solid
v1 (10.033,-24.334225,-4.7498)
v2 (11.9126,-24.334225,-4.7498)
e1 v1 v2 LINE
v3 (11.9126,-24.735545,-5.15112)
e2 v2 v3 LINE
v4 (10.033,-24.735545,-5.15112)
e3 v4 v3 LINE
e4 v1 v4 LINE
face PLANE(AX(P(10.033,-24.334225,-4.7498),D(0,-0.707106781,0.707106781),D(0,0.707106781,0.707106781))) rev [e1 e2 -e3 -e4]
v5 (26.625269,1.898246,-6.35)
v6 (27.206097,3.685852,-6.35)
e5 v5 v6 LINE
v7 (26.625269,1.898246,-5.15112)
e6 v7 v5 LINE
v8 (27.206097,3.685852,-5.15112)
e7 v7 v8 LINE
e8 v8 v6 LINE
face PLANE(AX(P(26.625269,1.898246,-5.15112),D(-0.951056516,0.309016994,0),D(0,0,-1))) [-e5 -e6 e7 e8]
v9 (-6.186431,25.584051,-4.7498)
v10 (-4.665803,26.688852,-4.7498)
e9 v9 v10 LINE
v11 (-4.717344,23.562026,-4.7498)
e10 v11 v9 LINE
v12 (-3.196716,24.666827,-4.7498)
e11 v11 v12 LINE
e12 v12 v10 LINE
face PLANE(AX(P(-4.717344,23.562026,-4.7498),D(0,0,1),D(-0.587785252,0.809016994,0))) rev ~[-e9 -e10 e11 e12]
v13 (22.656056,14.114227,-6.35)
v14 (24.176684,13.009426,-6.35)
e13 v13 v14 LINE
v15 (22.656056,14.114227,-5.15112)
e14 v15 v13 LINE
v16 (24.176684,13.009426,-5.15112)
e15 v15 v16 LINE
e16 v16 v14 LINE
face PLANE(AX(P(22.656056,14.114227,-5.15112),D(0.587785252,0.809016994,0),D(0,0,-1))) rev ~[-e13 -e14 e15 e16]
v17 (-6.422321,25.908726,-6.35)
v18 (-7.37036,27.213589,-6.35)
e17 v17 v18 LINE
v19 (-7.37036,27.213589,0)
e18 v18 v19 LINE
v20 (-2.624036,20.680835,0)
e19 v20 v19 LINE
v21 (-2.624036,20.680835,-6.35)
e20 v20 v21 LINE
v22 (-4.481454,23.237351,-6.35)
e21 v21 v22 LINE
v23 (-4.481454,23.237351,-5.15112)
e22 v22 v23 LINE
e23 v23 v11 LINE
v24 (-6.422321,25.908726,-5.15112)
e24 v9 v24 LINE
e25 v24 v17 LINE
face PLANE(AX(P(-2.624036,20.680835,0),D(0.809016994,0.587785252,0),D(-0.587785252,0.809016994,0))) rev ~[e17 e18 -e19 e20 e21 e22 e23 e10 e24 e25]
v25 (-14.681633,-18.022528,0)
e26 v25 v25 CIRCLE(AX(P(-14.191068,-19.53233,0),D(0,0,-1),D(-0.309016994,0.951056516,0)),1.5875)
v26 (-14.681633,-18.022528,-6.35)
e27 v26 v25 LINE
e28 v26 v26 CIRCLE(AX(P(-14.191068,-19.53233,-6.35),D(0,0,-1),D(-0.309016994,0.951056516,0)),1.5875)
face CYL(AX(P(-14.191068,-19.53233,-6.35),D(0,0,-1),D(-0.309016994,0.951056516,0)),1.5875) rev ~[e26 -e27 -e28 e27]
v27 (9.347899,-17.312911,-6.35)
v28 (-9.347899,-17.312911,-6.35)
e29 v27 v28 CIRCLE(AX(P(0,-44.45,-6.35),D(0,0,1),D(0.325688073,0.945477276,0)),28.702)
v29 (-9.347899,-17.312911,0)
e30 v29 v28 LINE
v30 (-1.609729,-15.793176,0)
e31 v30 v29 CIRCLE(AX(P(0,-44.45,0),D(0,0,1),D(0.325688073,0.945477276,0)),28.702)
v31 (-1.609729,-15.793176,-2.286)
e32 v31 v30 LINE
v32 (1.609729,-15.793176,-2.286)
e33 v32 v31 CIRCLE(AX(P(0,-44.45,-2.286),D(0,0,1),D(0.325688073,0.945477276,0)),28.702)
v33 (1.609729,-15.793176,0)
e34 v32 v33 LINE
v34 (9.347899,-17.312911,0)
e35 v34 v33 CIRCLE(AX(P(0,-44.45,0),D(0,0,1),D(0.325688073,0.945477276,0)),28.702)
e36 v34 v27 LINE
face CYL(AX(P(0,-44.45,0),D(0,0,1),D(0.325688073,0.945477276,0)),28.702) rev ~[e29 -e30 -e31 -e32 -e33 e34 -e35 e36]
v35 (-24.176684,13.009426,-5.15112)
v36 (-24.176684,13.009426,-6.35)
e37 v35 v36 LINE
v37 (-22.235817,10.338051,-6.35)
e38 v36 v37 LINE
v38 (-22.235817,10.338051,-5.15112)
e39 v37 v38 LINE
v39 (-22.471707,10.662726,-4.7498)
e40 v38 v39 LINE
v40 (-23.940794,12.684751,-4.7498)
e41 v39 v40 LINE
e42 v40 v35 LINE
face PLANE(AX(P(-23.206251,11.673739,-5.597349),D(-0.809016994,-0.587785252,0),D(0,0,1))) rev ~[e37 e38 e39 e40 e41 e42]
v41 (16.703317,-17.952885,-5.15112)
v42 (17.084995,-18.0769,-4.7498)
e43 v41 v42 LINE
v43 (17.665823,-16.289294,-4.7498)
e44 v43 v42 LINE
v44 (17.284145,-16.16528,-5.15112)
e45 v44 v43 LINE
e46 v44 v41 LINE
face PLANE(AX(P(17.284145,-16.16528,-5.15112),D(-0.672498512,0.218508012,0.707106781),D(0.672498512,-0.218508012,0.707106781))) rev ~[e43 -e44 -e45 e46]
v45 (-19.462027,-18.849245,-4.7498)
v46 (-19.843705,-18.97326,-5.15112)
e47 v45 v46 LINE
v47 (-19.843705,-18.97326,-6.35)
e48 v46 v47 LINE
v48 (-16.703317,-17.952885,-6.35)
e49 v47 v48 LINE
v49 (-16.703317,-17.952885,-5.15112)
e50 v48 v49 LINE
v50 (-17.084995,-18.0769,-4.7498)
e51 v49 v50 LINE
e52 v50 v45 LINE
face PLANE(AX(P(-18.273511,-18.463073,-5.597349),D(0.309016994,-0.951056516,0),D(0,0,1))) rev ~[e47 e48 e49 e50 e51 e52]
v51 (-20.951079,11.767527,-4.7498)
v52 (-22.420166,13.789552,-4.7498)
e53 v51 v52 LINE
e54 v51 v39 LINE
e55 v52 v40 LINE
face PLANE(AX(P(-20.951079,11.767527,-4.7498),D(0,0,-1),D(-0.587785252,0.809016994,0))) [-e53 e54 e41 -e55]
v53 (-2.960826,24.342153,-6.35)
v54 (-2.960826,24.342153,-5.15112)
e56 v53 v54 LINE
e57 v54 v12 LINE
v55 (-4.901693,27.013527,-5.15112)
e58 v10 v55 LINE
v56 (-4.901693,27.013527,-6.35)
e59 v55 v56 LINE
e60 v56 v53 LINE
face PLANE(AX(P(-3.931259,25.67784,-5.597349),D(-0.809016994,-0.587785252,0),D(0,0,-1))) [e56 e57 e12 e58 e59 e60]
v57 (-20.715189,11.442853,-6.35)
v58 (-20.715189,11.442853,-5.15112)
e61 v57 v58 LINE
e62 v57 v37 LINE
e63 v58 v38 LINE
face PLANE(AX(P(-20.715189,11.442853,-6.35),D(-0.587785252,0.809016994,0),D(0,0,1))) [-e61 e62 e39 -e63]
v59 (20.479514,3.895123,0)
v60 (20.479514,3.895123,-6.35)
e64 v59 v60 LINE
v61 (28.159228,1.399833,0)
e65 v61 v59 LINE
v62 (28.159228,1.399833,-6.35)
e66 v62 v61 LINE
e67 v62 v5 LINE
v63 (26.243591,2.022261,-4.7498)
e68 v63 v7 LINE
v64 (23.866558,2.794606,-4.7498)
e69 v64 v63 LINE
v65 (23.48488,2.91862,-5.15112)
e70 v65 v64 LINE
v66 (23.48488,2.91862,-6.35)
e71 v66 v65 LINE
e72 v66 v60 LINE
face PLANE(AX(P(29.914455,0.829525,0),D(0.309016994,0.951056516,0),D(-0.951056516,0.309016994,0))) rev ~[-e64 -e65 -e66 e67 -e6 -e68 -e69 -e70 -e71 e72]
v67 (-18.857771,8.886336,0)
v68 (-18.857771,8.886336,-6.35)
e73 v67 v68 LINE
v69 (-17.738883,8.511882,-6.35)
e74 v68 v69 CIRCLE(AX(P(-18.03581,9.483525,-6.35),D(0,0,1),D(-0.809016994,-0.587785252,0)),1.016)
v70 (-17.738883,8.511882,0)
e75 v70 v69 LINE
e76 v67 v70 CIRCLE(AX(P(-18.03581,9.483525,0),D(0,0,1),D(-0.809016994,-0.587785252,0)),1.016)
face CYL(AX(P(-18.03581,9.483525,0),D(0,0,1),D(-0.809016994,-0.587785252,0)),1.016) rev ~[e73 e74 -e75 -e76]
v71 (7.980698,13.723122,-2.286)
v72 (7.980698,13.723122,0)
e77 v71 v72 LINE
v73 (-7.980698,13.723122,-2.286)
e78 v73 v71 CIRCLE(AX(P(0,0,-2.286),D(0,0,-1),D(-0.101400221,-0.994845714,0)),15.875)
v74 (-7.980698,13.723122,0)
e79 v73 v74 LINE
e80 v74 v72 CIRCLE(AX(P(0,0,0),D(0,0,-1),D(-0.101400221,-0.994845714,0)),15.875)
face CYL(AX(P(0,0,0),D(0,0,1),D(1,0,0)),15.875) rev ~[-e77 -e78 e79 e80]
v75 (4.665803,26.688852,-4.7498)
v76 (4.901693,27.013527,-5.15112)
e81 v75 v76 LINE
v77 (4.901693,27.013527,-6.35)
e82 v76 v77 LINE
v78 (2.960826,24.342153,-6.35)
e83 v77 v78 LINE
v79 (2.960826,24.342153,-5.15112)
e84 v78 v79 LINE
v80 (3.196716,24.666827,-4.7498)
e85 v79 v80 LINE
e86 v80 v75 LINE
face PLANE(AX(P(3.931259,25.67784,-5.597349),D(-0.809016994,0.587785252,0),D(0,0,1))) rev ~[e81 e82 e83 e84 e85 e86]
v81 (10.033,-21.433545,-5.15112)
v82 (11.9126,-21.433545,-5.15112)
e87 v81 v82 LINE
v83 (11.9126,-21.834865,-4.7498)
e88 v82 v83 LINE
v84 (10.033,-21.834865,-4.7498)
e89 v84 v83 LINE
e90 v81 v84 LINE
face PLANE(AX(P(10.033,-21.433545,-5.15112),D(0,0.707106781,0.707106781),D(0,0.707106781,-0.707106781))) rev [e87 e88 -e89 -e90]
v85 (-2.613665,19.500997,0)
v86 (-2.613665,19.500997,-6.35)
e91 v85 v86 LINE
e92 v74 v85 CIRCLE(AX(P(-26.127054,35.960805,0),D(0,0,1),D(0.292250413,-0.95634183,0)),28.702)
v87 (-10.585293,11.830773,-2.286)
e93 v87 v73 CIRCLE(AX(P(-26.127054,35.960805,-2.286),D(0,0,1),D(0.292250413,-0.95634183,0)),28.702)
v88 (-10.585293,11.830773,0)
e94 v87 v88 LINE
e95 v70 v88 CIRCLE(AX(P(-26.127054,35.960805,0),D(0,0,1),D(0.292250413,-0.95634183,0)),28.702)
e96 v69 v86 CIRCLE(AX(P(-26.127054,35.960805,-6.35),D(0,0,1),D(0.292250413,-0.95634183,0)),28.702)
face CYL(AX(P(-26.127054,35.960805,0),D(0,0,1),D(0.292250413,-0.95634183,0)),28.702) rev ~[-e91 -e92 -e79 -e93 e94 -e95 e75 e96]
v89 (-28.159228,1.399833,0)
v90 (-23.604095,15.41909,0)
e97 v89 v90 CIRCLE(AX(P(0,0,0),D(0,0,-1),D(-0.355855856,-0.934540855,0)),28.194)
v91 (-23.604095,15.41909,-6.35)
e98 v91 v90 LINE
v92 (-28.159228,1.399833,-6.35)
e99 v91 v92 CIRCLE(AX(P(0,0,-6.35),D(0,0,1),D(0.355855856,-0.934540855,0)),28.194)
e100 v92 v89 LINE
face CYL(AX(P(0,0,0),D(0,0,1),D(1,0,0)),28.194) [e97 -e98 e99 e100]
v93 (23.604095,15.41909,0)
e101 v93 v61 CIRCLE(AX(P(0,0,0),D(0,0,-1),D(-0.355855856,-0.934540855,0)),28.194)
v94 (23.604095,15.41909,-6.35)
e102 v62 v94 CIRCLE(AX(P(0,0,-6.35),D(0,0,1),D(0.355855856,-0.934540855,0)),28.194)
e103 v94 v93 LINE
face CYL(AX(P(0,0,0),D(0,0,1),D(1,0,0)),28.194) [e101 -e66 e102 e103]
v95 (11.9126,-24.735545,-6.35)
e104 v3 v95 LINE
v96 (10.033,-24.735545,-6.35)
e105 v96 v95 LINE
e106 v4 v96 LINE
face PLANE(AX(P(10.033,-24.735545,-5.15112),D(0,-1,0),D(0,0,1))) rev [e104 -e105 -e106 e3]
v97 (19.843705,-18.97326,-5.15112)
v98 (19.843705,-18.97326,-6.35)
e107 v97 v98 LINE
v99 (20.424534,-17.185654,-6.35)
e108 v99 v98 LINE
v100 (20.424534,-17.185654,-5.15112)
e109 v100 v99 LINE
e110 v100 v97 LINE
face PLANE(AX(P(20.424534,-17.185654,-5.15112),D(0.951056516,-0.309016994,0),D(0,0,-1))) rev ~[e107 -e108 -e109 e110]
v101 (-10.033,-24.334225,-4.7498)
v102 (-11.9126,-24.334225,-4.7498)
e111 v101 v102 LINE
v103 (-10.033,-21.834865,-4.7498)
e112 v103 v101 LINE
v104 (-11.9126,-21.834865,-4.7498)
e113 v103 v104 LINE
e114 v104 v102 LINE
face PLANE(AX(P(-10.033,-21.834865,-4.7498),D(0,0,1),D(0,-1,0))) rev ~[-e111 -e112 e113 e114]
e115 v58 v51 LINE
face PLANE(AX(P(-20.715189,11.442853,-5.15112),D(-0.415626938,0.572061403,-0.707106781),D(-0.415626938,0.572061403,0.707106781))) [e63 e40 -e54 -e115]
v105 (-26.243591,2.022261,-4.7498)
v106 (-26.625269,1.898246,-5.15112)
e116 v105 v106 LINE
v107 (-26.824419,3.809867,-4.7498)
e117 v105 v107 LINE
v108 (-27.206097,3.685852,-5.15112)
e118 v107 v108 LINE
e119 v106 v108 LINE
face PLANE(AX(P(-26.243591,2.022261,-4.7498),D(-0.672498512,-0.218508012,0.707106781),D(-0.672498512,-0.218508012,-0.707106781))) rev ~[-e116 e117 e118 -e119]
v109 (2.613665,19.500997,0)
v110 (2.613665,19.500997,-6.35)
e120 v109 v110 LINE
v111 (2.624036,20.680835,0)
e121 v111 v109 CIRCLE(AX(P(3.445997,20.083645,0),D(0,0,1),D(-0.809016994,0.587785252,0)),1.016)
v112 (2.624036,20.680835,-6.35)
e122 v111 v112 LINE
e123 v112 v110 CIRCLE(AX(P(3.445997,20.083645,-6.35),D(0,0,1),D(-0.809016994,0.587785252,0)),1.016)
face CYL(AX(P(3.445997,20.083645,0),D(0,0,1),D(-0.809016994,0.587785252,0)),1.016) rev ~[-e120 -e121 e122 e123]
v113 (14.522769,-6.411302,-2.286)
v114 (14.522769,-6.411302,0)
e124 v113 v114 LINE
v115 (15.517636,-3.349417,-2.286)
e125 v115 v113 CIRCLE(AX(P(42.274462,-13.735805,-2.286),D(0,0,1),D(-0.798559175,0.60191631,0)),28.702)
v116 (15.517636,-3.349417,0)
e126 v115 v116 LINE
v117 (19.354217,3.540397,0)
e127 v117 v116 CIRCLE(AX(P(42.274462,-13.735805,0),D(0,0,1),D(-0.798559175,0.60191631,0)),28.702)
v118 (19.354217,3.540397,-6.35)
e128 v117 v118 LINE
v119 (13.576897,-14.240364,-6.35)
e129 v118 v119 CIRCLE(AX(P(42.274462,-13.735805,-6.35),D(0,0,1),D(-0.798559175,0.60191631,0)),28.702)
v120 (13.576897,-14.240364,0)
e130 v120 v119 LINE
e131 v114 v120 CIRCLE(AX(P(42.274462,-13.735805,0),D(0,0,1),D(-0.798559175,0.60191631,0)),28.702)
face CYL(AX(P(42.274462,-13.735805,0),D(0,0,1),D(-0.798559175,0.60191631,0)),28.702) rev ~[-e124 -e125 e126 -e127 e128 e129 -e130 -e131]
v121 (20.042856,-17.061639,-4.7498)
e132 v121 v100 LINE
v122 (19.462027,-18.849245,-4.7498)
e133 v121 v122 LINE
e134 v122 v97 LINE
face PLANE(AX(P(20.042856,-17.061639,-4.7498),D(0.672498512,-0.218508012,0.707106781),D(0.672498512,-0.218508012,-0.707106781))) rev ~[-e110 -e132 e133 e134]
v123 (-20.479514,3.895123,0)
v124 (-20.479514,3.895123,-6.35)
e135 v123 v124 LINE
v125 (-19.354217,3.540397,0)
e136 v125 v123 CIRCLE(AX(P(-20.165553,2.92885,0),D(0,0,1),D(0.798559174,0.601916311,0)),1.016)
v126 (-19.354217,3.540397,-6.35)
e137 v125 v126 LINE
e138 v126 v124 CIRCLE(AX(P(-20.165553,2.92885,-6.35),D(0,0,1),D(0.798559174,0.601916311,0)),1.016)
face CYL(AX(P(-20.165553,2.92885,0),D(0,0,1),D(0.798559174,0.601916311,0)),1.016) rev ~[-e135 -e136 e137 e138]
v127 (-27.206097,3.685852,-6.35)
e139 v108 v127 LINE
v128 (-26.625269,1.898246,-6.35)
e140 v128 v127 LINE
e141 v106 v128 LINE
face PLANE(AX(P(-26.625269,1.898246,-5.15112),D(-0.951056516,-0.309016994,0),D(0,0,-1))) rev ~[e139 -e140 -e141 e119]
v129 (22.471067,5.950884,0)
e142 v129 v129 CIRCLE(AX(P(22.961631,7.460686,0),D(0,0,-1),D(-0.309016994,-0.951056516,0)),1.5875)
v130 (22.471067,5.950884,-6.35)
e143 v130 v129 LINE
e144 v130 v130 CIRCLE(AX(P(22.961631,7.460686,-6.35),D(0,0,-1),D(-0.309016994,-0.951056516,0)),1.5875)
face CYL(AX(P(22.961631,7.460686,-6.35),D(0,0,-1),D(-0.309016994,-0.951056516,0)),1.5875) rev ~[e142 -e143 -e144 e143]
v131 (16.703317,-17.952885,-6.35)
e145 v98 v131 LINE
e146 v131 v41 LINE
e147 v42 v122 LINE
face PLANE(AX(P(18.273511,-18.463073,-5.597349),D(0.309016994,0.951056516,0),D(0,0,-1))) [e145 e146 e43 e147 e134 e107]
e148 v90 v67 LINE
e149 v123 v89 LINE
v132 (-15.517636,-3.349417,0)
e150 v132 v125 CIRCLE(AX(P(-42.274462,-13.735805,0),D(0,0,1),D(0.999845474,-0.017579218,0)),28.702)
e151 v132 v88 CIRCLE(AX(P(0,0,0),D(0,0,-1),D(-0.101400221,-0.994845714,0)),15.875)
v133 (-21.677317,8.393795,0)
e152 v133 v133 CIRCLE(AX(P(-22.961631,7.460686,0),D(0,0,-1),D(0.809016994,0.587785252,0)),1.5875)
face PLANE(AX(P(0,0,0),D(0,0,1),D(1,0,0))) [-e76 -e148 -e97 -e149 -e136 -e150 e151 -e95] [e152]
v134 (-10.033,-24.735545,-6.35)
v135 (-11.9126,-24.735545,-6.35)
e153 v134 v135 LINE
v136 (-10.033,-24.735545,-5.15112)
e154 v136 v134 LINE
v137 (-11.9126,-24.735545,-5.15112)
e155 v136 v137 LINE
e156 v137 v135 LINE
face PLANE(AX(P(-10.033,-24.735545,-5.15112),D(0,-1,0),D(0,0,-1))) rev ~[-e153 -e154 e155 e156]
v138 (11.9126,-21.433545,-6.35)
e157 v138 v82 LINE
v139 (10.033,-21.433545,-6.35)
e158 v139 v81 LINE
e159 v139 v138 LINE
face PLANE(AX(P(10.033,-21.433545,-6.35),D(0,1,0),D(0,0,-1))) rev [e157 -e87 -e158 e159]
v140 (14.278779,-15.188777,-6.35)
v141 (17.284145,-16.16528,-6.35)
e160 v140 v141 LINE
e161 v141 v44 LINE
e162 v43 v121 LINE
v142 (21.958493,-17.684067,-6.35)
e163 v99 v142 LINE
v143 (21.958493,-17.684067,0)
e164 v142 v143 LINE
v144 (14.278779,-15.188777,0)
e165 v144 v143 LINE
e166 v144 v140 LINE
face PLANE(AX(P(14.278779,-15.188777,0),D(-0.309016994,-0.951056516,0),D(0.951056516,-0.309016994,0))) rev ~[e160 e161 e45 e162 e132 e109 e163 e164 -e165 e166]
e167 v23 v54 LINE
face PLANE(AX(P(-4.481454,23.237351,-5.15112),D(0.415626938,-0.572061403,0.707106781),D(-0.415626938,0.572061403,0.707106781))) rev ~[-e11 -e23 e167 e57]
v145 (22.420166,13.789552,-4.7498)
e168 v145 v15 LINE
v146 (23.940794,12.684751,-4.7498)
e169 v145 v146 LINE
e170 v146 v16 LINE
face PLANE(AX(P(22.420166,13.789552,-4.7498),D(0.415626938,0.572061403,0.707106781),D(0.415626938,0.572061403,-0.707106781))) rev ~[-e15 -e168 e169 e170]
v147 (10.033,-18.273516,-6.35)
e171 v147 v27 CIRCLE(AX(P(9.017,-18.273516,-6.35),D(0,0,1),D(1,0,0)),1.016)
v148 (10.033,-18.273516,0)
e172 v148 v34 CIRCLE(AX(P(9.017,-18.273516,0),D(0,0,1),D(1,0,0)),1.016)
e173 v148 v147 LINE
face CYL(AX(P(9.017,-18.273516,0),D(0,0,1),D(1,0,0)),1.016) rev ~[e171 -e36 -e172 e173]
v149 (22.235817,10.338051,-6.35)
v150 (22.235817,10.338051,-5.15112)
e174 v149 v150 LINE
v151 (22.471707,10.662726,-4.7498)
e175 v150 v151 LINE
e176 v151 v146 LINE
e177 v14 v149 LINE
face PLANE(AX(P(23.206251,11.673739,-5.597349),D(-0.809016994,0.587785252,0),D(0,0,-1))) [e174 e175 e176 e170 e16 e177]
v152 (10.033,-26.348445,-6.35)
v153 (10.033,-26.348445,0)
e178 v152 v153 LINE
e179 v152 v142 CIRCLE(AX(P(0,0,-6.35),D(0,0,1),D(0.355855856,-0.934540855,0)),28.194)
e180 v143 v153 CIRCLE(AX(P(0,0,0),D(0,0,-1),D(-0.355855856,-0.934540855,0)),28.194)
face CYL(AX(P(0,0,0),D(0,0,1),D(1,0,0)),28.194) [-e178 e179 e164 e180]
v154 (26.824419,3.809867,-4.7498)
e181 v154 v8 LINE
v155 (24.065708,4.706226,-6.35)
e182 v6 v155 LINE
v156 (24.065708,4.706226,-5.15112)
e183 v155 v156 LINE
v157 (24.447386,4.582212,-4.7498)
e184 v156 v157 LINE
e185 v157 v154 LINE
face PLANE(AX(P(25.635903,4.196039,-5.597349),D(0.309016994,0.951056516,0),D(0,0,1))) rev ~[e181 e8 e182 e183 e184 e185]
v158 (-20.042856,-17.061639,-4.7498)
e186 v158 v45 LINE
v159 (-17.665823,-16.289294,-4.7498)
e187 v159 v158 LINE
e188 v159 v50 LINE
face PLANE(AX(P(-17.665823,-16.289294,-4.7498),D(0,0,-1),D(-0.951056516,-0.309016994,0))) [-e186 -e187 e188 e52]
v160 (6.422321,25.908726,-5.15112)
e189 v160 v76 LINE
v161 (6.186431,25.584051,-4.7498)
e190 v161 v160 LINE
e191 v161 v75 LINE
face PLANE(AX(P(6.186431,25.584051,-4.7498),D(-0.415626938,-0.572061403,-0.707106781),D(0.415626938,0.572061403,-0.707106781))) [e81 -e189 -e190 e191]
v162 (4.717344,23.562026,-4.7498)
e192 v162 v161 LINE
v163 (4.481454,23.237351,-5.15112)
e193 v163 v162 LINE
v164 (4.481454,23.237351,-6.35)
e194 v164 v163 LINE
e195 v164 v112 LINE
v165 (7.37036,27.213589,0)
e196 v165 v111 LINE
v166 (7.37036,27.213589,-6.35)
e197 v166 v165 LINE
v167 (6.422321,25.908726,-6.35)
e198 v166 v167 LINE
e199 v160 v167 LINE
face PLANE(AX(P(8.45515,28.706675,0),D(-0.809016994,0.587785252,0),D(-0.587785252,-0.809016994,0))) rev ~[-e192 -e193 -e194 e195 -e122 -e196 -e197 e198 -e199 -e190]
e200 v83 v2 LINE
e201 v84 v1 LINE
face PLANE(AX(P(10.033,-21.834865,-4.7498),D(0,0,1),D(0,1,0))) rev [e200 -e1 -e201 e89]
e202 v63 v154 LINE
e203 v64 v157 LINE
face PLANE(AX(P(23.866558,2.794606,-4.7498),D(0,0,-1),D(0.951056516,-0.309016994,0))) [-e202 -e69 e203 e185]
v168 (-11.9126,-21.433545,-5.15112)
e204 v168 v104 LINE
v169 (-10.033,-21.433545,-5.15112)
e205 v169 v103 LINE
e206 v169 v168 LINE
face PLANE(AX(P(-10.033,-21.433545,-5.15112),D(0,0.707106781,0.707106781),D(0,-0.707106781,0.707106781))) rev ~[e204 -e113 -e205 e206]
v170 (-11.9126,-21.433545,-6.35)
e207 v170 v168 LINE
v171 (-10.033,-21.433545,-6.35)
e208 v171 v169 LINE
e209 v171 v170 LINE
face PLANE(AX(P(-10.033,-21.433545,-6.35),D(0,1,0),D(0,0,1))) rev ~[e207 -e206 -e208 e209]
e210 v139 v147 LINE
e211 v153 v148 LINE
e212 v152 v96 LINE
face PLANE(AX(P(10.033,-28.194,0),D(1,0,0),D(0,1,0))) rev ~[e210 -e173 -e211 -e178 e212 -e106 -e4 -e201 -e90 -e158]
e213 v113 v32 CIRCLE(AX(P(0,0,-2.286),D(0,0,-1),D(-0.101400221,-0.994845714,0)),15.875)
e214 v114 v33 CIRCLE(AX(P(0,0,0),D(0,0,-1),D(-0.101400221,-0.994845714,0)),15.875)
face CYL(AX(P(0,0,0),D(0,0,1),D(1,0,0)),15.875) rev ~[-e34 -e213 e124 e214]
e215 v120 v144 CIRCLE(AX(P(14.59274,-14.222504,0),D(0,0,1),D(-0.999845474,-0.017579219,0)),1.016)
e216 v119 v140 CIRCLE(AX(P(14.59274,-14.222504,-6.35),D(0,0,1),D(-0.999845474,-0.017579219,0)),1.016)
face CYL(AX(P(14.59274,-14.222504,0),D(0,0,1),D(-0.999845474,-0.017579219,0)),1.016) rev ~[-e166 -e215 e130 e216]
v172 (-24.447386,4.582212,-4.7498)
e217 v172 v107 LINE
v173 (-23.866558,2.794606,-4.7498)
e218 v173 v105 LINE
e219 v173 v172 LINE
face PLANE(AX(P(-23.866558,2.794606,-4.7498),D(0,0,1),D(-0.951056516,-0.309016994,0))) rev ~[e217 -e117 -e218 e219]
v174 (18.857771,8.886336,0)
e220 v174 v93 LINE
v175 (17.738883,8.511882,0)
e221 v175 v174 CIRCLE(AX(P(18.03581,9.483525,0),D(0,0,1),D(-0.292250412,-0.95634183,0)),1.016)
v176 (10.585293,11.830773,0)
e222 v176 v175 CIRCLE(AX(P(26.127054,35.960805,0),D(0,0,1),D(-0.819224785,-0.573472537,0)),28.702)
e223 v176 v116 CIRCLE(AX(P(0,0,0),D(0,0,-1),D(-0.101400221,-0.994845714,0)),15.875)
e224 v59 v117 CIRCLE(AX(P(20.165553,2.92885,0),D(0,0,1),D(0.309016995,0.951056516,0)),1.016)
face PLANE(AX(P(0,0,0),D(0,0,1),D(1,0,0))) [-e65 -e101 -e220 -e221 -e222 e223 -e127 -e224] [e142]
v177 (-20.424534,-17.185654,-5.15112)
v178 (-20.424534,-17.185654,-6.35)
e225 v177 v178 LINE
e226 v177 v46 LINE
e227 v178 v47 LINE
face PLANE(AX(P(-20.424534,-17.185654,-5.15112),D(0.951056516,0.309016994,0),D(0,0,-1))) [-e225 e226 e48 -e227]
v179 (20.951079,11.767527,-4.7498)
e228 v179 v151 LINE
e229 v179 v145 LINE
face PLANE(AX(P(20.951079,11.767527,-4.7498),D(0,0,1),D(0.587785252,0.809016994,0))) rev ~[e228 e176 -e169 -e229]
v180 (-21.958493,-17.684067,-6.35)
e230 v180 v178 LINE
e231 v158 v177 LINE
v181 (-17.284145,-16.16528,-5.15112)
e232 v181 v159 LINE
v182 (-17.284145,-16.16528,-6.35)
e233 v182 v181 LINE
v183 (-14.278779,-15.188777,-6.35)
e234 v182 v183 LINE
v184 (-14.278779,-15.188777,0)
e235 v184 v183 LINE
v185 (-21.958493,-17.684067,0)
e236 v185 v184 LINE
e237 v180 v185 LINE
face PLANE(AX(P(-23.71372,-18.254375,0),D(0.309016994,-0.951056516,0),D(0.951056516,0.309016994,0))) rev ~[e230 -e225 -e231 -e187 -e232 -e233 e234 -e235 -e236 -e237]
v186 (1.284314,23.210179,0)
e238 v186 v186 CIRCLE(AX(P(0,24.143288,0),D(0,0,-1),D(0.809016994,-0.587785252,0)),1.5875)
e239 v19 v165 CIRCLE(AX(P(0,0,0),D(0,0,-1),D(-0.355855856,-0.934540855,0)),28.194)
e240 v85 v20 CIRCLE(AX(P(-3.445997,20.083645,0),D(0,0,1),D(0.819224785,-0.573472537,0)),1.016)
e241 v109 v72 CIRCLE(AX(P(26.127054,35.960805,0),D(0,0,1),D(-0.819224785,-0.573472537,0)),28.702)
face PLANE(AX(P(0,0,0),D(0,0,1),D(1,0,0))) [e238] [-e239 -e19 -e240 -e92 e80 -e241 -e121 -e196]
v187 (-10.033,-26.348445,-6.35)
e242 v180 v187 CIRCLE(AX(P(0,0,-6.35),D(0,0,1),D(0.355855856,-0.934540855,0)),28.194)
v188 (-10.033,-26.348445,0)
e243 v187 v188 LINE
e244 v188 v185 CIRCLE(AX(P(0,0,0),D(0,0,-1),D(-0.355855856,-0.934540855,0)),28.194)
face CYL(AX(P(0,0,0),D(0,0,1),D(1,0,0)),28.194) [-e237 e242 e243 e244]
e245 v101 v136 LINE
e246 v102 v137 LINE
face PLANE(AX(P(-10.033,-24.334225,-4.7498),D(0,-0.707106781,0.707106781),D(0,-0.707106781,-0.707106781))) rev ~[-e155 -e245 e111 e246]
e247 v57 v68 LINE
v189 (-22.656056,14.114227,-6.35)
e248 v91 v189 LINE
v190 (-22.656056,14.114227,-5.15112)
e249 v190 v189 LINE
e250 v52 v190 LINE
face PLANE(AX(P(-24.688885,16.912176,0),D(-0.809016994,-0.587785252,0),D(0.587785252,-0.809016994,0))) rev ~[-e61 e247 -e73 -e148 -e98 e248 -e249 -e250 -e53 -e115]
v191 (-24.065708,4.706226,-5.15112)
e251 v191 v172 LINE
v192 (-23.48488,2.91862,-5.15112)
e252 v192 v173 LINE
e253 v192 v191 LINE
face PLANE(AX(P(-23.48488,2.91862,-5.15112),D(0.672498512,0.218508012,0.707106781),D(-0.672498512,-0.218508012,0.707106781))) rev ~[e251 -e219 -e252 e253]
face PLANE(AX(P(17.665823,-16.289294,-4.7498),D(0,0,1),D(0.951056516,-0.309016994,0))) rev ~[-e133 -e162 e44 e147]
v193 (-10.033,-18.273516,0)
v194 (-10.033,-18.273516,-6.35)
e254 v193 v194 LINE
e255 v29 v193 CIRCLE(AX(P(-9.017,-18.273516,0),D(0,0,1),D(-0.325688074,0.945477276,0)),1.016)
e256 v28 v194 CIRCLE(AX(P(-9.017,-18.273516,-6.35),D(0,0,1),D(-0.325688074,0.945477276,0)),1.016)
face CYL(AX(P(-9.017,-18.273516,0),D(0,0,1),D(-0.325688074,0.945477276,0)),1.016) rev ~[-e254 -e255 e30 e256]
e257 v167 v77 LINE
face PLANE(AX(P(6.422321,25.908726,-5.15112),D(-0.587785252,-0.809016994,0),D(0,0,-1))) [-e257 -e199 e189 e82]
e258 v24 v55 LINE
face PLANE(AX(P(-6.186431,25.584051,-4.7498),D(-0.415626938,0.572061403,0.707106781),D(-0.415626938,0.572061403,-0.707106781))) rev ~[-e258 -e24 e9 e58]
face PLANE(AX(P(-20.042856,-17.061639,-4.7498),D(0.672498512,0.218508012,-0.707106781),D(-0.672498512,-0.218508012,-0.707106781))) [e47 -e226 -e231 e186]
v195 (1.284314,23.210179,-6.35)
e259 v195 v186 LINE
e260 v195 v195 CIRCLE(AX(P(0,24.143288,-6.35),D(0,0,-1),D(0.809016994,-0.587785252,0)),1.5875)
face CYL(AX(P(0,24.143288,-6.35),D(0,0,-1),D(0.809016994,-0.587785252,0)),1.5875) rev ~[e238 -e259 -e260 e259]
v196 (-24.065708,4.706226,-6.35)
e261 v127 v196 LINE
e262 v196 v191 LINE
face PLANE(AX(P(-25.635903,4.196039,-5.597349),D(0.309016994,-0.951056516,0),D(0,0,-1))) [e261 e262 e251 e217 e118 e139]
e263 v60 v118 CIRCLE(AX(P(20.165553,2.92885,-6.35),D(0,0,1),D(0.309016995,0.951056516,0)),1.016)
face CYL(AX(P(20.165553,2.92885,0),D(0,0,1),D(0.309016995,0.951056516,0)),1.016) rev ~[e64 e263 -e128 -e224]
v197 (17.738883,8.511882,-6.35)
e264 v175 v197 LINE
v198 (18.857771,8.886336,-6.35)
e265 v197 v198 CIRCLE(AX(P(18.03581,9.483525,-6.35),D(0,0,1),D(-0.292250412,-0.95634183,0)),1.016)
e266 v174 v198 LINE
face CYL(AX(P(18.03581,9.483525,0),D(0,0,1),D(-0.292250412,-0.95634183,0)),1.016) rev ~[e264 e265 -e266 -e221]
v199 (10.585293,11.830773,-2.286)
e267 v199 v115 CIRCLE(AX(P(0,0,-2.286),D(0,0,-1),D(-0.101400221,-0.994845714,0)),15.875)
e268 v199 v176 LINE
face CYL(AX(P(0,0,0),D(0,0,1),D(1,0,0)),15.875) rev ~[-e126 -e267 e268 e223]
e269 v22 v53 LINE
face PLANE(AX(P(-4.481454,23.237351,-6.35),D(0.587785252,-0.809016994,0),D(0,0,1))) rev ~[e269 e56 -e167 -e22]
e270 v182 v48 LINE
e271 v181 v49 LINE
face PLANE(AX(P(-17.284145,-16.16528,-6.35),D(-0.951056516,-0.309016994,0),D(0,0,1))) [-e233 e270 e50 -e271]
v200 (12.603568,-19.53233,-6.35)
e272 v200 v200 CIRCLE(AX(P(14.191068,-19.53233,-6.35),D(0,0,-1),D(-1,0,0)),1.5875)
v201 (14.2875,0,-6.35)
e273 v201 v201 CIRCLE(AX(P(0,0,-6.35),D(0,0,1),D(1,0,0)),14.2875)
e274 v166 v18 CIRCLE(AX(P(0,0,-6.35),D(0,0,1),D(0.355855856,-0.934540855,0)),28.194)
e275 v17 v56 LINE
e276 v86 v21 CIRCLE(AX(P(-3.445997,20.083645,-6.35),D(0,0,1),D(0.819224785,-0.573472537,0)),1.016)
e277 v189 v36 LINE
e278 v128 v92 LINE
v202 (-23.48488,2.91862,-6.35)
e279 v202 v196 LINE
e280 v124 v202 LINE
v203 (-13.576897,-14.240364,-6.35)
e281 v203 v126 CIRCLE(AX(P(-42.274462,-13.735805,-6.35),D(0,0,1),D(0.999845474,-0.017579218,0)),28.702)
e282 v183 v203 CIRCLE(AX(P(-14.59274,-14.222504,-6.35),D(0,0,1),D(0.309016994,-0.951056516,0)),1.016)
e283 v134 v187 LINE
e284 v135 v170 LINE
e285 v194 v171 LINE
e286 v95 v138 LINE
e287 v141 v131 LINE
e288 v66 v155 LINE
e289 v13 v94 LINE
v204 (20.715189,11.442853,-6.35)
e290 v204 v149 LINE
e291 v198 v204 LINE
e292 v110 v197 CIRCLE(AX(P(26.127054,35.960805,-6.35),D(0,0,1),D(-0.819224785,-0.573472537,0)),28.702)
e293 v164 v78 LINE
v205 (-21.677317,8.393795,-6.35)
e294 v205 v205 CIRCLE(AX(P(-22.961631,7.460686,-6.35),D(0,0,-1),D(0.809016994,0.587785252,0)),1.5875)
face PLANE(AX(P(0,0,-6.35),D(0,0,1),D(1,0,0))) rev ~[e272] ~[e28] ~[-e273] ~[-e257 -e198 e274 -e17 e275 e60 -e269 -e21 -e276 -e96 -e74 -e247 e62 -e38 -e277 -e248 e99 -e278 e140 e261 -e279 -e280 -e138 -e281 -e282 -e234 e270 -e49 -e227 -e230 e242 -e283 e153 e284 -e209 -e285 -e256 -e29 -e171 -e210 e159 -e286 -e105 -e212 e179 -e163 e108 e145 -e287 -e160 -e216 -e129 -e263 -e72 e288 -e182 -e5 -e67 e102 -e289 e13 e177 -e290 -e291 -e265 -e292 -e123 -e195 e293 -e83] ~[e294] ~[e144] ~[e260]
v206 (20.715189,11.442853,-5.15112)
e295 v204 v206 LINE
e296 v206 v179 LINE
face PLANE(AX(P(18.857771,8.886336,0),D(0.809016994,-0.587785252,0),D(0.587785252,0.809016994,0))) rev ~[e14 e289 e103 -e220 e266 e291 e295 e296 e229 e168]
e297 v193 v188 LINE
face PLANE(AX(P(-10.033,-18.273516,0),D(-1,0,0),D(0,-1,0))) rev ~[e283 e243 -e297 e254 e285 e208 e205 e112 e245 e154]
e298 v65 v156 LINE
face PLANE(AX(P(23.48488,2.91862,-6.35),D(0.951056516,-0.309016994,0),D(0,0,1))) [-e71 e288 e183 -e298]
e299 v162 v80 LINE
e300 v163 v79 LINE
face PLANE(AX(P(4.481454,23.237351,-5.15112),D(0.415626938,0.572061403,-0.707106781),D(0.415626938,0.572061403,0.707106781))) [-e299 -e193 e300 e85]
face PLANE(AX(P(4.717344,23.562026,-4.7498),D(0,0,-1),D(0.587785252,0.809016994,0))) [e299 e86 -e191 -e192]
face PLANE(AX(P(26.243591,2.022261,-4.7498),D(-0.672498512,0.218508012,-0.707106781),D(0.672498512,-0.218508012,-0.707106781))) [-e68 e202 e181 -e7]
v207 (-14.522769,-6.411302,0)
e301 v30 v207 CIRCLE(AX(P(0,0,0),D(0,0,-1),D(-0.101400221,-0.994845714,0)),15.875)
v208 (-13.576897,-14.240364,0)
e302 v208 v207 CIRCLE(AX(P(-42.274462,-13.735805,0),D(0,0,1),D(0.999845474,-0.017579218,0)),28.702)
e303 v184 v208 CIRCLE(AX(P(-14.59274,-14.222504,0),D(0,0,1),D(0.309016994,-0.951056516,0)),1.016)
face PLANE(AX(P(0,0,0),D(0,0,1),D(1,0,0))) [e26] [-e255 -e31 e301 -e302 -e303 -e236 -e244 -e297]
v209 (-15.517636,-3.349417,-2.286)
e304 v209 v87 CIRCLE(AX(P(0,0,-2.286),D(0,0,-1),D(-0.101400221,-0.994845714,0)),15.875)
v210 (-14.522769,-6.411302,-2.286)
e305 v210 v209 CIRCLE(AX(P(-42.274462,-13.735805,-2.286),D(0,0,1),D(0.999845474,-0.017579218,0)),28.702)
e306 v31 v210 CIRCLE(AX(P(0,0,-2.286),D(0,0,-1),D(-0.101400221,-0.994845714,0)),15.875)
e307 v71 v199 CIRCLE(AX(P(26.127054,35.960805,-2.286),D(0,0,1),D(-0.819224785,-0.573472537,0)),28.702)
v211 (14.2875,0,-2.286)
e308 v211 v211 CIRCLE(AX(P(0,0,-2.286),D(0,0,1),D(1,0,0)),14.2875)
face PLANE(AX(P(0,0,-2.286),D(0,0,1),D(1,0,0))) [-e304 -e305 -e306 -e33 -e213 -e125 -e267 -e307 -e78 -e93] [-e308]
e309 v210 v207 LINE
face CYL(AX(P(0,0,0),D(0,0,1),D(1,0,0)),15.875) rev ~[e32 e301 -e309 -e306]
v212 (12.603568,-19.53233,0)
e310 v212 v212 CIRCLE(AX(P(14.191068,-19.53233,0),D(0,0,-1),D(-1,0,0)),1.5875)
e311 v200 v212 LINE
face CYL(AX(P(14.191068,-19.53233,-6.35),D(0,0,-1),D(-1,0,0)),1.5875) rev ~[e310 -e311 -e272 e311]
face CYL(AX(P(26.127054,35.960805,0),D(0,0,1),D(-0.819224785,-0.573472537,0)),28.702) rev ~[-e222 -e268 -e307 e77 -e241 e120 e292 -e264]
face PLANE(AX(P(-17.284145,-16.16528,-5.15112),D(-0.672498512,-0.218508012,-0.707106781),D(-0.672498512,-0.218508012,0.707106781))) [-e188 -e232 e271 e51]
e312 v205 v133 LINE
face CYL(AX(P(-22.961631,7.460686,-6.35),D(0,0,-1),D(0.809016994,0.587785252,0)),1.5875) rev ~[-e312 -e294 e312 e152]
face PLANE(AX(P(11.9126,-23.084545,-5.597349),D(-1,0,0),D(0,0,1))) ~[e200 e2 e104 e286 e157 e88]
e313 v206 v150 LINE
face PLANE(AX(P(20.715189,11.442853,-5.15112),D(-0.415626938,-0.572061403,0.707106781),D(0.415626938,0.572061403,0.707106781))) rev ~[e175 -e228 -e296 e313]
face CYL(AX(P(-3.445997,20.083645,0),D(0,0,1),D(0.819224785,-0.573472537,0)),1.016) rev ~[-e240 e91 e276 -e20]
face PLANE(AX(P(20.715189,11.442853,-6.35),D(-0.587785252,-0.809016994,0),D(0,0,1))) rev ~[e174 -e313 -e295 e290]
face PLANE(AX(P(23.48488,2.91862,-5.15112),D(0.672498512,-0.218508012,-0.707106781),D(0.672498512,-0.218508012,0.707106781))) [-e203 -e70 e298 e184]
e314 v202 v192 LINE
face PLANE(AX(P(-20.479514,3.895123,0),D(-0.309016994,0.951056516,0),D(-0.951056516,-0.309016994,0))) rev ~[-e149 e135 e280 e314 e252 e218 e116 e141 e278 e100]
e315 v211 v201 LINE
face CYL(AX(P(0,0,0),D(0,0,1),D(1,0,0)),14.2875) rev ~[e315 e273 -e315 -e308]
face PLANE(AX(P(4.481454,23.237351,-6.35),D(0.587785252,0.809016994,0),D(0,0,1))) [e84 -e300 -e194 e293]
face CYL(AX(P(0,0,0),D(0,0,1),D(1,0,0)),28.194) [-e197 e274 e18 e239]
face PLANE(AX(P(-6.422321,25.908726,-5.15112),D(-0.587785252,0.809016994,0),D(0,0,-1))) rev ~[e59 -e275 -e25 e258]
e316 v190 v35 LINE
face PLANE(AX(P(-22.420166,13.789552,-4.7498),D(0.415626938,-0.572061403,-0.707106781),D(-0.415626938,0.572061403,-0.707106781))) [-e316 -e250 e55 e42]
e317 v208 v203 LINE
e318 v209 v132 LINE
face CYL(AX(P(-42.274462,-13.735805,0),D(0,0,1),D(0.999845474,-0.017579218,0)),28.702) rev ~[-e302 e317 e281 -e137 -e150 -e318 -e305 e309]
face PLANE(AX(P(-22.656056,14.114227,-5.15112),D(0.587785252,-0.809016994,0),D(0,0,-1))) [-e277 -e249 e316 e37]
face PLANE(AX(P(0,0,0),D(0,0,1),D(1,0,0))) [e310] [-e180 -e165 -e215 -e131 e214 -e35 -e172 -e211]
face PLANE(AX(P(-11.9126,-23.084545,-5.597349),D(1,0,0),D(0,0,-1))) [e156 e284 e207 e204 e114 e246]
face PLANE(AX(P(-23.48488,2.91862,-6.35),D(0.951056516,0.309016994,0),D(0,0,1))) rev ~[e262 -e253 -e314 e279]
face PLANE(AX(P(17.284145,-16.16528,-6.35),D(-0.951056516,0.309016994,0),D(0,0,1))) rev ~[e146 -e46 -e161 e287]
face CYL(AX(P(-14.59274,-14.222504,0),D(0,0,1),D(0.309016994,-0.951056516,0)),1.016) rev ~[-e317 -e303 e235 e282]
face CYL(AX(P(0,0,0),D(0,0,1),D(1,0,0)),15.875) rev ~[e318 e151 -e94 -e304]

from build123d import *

# Parameters (mm, degrees)
SKETCH1_R                = 28.194
SKETCH1_R_2              = 14.2875
BOSS_EXTRUDE1_DEPTH      = 6.35
SKETCH1_3_R              = 15.875
SKETCH1_3_R_2            = 14.2875
CUT_EXTRUDE1_DEPTH       = 2.286
CUT_EXTRUDE5_DEPTH       = 41.374816062
CIRPATTERN1_COUNT        = 5
CUT_EXTRUDE6_DEPTH       = 1.8796
CIRPATTERN2_COUNT        = 5
CIRPATTERN2_COPY_1_DEPTH = 1.8796
CIRPATTERN2_COPY_2_DEPTH = 1.8796
CIRPATTERN2_COPY_3_DEPTH = 1.8796
CIRPATTERN2_COPY_4_DEPTH = 1.8796
SKETCH4_R                = 1.5875
CUT_EXTRUDE7_DEPTH       = 41.350542006
CIRPATTERN3_COUNT        = 5


with BuildPart() as part:
    # Sketch1 → Boss-Extrude1 (new body)
    with BuildSketch(Plane.XY):
        Circle(SKETCH1_R)
        Circle(SKETCH1_R_2, mode=Mode.SUBTRACT)
    extrude(amount=-BOSS_EXTRUDE1_DEPTH)

    # Sketch1<3> → Cut-Extrude1 (cut)
    with BuildSketch(Plane.XY):
        Circle(SKETCH1_3_R)
        Circle(SKETCH1_3_R_2, mode=Mode.SUBTRACT)
    extrude(amount=-CUT_EXTRUDE1_DEPTH, mode=Mode.SUBTRACT)

    # Sketch2 → Cut-Extrude5 (cut, through all)
    with BuildSketch(Plane.XY):
        with BuildLine():
            Line((-10.033, -28.194), (10.033, -28.194))
            Line((10.033, -28.194), (10.033, -18.273516145))
            ThreePointArc((10.033, -18.273516145), (9.84417878, -17.683574397), (9.347899083, -17.312911233))
            ThreePointArc((9.347899083, -17.312911233), (0, -15.748), (-9.347899083, -17.312911233))
            ThreePointArc((-9.347899083, -17.312911233), (-9.84417878, -17.683574397), (-10.033, -18.273516145))
            Line((-10.033, -18.273516145), (-10.033, -28.194))
        make_face()
    cut_extrude5 = extrude(amount=-CUT_EXTRUDE5_DEPTH, mode=Mode.SUBTRACT)

    # CirPattern1: Cut-Extrude5 ×5 about axis
    cirpattern1_axis = Axis((0, 0, 0), (0, 0, 1))
    for i in range(1, CIRPATTERN1_COUNT):
        add(cut_extrude5.rotate(cirpattern1_axis, i * 360 / CIRPATTERN1_COUNT), mode=Mode.SUBTRACT)

    # Sketch3 → Cut-Extrude6 (cut)
    with BuildSketch(Plane(origin=(-10.033, 0, 0), x_dir=(0, 0, -1), z_dir=(1, 0, 0))):
        Polygon((6.35, -21.433544869), (5.15112, -21.433544869), (4.7498, -21.834864869), (4.7498, -24.334224869), (5.15112, -24.735544869), (6.35, -24.735544869), align=None)
    cut_extrude6 = extrude(amount=-CUT_EXTRUDE6_DEPTH, mode=Mode.SUBTRACT)

    # Mirror1: Cut-Extrude6 across plane
    add(cut_extrude6.mirror(Plane(origin=(0, 0, 0), x_dir=(0, 0, 1), z_dir=(1, 0, 0))), mode=Mode.SUBTRACT)

    # CirPattern2: Cut-Extrude6 ×5 about axis
    cirpattern2_axis = Axis((0, 0, -6.35), (0, 0, 1))
    for i in range(1, CIRPATTERN2_COUNT):
        add(cut_extrude6.rotate(cirpattern2_axis, i * 360 / CIRPATTERN2_COUNT), mode=Mode.SUBTRACT)

    # CirPattern2 copy 1 sketch → CirPattern2 copy 1 (cut)
    with BuildSketch(Plane(origin=(3.100367505, 9.541950028, 0), x_dir=(0, 0, -1), z_dir=(-0.3090169943749473, -0.9510565162951535, 0))):
        Polygon((6.35, 21.433544869), (5.15112, 21.433544869), (4.7498, 21.834864869), (4.7498, 24.334224869), (5.15112, 24.735544869), (6.35, 24.735544869), align=None)
    extrude(amount=-CIRPATTERN2_COPY_1_DEPTH, mode=Mode.SUBTRACT)

    # CirPattern2 copy 2 sketch → CirPattern2 copy 2 (cut)
    with BuildSketch(Plane(origin=(-8.116867505, 5.897249436, 0), x_dir=(0, 0, -1), z_dir=(0.8090169943749475, -0.5877852522924731, 0))):
        Polygon((6.35, 21.433544869), (5.15112, 21.433544869), (4.7498, 21.834864869), (4.7498, 24.334224869), (5.15112, 24.735544869), (6.35, 24.735544869), align=None)
    extrude(amount=-CIRPATTERN2_COPY_2_DEPTH, mode=Mode.SUBTRACT)

    # CirPattern2 copy 3 sketch → CirPattern2 copy 3 (cut)
    with BuildSketch(Plane(origin=(-8.116867505, -5.897249436, 0), x_dir=(0, 0, -1), z_dir=(0.8090169943749475, 0.5877852522924731, 0))):
        Polygon((6.35, 21.433544869), (5.15112, 21.433544869), (4.7498, 21.834864869), (4.7498, 24.334224869), (5.15112, 24.735544869), (6.35, 24.735544869), align=None)
    extrude(amount=-CIRPATTERN2_COPY_3_DEPTH, mode=Mode.SUBTRACT)

    # CirPattern2 copy 4 sketch → CirPattern2 copy 4 (cut)
    with BuildSketch(Plane(origin=(3.100367505, -9.541950028, 0), x_dir=(0, 0, -1), z_dir=(-0.3090169943749474, 0.9510565162951536, 0))):
        Polygon((6.35, 21.433544869), (5.15112, 21.433544869), (4.7498, 21.834864869), (4.7498, 24.334224869), (5.15112, 24.735544869), (6.35, 24.735544869), align=None)
    extrude(amount=-CIRPATTERN2_COPY_4_DEPTH, mode=Mode.SUBTRACT)

    # Sketch4 → Cut-Extrude7 (cut, through all)
    with BuildSketch(Plane(origin=(0, 0, -6.35), x_dir=(-1, 0, 0), z_dir=(0, 0, -1))):
        with Locations((-14.191068427, -19.532330016)):
            Circle(SKETCH4_R)
    cut_extrude7 = extrude(amount=-CUT_EXTRUDE7_DEPTH, mode=Mode.SUBTRACT)

    # CirPattern3: Cut-Extrude7 ×5 about axis
    cirpattern3_axis = Axis((0, 0, -6.35), (0, 0, 1))
    for i in range(1, CIRPATTERN3_COUNT):
        add(cut_extrude7.rotate(cirpattern3_axis, i * 360 / CIRPATTERN3_COUNT), mode=Mode.SUBTRACT)


solid = part.part
